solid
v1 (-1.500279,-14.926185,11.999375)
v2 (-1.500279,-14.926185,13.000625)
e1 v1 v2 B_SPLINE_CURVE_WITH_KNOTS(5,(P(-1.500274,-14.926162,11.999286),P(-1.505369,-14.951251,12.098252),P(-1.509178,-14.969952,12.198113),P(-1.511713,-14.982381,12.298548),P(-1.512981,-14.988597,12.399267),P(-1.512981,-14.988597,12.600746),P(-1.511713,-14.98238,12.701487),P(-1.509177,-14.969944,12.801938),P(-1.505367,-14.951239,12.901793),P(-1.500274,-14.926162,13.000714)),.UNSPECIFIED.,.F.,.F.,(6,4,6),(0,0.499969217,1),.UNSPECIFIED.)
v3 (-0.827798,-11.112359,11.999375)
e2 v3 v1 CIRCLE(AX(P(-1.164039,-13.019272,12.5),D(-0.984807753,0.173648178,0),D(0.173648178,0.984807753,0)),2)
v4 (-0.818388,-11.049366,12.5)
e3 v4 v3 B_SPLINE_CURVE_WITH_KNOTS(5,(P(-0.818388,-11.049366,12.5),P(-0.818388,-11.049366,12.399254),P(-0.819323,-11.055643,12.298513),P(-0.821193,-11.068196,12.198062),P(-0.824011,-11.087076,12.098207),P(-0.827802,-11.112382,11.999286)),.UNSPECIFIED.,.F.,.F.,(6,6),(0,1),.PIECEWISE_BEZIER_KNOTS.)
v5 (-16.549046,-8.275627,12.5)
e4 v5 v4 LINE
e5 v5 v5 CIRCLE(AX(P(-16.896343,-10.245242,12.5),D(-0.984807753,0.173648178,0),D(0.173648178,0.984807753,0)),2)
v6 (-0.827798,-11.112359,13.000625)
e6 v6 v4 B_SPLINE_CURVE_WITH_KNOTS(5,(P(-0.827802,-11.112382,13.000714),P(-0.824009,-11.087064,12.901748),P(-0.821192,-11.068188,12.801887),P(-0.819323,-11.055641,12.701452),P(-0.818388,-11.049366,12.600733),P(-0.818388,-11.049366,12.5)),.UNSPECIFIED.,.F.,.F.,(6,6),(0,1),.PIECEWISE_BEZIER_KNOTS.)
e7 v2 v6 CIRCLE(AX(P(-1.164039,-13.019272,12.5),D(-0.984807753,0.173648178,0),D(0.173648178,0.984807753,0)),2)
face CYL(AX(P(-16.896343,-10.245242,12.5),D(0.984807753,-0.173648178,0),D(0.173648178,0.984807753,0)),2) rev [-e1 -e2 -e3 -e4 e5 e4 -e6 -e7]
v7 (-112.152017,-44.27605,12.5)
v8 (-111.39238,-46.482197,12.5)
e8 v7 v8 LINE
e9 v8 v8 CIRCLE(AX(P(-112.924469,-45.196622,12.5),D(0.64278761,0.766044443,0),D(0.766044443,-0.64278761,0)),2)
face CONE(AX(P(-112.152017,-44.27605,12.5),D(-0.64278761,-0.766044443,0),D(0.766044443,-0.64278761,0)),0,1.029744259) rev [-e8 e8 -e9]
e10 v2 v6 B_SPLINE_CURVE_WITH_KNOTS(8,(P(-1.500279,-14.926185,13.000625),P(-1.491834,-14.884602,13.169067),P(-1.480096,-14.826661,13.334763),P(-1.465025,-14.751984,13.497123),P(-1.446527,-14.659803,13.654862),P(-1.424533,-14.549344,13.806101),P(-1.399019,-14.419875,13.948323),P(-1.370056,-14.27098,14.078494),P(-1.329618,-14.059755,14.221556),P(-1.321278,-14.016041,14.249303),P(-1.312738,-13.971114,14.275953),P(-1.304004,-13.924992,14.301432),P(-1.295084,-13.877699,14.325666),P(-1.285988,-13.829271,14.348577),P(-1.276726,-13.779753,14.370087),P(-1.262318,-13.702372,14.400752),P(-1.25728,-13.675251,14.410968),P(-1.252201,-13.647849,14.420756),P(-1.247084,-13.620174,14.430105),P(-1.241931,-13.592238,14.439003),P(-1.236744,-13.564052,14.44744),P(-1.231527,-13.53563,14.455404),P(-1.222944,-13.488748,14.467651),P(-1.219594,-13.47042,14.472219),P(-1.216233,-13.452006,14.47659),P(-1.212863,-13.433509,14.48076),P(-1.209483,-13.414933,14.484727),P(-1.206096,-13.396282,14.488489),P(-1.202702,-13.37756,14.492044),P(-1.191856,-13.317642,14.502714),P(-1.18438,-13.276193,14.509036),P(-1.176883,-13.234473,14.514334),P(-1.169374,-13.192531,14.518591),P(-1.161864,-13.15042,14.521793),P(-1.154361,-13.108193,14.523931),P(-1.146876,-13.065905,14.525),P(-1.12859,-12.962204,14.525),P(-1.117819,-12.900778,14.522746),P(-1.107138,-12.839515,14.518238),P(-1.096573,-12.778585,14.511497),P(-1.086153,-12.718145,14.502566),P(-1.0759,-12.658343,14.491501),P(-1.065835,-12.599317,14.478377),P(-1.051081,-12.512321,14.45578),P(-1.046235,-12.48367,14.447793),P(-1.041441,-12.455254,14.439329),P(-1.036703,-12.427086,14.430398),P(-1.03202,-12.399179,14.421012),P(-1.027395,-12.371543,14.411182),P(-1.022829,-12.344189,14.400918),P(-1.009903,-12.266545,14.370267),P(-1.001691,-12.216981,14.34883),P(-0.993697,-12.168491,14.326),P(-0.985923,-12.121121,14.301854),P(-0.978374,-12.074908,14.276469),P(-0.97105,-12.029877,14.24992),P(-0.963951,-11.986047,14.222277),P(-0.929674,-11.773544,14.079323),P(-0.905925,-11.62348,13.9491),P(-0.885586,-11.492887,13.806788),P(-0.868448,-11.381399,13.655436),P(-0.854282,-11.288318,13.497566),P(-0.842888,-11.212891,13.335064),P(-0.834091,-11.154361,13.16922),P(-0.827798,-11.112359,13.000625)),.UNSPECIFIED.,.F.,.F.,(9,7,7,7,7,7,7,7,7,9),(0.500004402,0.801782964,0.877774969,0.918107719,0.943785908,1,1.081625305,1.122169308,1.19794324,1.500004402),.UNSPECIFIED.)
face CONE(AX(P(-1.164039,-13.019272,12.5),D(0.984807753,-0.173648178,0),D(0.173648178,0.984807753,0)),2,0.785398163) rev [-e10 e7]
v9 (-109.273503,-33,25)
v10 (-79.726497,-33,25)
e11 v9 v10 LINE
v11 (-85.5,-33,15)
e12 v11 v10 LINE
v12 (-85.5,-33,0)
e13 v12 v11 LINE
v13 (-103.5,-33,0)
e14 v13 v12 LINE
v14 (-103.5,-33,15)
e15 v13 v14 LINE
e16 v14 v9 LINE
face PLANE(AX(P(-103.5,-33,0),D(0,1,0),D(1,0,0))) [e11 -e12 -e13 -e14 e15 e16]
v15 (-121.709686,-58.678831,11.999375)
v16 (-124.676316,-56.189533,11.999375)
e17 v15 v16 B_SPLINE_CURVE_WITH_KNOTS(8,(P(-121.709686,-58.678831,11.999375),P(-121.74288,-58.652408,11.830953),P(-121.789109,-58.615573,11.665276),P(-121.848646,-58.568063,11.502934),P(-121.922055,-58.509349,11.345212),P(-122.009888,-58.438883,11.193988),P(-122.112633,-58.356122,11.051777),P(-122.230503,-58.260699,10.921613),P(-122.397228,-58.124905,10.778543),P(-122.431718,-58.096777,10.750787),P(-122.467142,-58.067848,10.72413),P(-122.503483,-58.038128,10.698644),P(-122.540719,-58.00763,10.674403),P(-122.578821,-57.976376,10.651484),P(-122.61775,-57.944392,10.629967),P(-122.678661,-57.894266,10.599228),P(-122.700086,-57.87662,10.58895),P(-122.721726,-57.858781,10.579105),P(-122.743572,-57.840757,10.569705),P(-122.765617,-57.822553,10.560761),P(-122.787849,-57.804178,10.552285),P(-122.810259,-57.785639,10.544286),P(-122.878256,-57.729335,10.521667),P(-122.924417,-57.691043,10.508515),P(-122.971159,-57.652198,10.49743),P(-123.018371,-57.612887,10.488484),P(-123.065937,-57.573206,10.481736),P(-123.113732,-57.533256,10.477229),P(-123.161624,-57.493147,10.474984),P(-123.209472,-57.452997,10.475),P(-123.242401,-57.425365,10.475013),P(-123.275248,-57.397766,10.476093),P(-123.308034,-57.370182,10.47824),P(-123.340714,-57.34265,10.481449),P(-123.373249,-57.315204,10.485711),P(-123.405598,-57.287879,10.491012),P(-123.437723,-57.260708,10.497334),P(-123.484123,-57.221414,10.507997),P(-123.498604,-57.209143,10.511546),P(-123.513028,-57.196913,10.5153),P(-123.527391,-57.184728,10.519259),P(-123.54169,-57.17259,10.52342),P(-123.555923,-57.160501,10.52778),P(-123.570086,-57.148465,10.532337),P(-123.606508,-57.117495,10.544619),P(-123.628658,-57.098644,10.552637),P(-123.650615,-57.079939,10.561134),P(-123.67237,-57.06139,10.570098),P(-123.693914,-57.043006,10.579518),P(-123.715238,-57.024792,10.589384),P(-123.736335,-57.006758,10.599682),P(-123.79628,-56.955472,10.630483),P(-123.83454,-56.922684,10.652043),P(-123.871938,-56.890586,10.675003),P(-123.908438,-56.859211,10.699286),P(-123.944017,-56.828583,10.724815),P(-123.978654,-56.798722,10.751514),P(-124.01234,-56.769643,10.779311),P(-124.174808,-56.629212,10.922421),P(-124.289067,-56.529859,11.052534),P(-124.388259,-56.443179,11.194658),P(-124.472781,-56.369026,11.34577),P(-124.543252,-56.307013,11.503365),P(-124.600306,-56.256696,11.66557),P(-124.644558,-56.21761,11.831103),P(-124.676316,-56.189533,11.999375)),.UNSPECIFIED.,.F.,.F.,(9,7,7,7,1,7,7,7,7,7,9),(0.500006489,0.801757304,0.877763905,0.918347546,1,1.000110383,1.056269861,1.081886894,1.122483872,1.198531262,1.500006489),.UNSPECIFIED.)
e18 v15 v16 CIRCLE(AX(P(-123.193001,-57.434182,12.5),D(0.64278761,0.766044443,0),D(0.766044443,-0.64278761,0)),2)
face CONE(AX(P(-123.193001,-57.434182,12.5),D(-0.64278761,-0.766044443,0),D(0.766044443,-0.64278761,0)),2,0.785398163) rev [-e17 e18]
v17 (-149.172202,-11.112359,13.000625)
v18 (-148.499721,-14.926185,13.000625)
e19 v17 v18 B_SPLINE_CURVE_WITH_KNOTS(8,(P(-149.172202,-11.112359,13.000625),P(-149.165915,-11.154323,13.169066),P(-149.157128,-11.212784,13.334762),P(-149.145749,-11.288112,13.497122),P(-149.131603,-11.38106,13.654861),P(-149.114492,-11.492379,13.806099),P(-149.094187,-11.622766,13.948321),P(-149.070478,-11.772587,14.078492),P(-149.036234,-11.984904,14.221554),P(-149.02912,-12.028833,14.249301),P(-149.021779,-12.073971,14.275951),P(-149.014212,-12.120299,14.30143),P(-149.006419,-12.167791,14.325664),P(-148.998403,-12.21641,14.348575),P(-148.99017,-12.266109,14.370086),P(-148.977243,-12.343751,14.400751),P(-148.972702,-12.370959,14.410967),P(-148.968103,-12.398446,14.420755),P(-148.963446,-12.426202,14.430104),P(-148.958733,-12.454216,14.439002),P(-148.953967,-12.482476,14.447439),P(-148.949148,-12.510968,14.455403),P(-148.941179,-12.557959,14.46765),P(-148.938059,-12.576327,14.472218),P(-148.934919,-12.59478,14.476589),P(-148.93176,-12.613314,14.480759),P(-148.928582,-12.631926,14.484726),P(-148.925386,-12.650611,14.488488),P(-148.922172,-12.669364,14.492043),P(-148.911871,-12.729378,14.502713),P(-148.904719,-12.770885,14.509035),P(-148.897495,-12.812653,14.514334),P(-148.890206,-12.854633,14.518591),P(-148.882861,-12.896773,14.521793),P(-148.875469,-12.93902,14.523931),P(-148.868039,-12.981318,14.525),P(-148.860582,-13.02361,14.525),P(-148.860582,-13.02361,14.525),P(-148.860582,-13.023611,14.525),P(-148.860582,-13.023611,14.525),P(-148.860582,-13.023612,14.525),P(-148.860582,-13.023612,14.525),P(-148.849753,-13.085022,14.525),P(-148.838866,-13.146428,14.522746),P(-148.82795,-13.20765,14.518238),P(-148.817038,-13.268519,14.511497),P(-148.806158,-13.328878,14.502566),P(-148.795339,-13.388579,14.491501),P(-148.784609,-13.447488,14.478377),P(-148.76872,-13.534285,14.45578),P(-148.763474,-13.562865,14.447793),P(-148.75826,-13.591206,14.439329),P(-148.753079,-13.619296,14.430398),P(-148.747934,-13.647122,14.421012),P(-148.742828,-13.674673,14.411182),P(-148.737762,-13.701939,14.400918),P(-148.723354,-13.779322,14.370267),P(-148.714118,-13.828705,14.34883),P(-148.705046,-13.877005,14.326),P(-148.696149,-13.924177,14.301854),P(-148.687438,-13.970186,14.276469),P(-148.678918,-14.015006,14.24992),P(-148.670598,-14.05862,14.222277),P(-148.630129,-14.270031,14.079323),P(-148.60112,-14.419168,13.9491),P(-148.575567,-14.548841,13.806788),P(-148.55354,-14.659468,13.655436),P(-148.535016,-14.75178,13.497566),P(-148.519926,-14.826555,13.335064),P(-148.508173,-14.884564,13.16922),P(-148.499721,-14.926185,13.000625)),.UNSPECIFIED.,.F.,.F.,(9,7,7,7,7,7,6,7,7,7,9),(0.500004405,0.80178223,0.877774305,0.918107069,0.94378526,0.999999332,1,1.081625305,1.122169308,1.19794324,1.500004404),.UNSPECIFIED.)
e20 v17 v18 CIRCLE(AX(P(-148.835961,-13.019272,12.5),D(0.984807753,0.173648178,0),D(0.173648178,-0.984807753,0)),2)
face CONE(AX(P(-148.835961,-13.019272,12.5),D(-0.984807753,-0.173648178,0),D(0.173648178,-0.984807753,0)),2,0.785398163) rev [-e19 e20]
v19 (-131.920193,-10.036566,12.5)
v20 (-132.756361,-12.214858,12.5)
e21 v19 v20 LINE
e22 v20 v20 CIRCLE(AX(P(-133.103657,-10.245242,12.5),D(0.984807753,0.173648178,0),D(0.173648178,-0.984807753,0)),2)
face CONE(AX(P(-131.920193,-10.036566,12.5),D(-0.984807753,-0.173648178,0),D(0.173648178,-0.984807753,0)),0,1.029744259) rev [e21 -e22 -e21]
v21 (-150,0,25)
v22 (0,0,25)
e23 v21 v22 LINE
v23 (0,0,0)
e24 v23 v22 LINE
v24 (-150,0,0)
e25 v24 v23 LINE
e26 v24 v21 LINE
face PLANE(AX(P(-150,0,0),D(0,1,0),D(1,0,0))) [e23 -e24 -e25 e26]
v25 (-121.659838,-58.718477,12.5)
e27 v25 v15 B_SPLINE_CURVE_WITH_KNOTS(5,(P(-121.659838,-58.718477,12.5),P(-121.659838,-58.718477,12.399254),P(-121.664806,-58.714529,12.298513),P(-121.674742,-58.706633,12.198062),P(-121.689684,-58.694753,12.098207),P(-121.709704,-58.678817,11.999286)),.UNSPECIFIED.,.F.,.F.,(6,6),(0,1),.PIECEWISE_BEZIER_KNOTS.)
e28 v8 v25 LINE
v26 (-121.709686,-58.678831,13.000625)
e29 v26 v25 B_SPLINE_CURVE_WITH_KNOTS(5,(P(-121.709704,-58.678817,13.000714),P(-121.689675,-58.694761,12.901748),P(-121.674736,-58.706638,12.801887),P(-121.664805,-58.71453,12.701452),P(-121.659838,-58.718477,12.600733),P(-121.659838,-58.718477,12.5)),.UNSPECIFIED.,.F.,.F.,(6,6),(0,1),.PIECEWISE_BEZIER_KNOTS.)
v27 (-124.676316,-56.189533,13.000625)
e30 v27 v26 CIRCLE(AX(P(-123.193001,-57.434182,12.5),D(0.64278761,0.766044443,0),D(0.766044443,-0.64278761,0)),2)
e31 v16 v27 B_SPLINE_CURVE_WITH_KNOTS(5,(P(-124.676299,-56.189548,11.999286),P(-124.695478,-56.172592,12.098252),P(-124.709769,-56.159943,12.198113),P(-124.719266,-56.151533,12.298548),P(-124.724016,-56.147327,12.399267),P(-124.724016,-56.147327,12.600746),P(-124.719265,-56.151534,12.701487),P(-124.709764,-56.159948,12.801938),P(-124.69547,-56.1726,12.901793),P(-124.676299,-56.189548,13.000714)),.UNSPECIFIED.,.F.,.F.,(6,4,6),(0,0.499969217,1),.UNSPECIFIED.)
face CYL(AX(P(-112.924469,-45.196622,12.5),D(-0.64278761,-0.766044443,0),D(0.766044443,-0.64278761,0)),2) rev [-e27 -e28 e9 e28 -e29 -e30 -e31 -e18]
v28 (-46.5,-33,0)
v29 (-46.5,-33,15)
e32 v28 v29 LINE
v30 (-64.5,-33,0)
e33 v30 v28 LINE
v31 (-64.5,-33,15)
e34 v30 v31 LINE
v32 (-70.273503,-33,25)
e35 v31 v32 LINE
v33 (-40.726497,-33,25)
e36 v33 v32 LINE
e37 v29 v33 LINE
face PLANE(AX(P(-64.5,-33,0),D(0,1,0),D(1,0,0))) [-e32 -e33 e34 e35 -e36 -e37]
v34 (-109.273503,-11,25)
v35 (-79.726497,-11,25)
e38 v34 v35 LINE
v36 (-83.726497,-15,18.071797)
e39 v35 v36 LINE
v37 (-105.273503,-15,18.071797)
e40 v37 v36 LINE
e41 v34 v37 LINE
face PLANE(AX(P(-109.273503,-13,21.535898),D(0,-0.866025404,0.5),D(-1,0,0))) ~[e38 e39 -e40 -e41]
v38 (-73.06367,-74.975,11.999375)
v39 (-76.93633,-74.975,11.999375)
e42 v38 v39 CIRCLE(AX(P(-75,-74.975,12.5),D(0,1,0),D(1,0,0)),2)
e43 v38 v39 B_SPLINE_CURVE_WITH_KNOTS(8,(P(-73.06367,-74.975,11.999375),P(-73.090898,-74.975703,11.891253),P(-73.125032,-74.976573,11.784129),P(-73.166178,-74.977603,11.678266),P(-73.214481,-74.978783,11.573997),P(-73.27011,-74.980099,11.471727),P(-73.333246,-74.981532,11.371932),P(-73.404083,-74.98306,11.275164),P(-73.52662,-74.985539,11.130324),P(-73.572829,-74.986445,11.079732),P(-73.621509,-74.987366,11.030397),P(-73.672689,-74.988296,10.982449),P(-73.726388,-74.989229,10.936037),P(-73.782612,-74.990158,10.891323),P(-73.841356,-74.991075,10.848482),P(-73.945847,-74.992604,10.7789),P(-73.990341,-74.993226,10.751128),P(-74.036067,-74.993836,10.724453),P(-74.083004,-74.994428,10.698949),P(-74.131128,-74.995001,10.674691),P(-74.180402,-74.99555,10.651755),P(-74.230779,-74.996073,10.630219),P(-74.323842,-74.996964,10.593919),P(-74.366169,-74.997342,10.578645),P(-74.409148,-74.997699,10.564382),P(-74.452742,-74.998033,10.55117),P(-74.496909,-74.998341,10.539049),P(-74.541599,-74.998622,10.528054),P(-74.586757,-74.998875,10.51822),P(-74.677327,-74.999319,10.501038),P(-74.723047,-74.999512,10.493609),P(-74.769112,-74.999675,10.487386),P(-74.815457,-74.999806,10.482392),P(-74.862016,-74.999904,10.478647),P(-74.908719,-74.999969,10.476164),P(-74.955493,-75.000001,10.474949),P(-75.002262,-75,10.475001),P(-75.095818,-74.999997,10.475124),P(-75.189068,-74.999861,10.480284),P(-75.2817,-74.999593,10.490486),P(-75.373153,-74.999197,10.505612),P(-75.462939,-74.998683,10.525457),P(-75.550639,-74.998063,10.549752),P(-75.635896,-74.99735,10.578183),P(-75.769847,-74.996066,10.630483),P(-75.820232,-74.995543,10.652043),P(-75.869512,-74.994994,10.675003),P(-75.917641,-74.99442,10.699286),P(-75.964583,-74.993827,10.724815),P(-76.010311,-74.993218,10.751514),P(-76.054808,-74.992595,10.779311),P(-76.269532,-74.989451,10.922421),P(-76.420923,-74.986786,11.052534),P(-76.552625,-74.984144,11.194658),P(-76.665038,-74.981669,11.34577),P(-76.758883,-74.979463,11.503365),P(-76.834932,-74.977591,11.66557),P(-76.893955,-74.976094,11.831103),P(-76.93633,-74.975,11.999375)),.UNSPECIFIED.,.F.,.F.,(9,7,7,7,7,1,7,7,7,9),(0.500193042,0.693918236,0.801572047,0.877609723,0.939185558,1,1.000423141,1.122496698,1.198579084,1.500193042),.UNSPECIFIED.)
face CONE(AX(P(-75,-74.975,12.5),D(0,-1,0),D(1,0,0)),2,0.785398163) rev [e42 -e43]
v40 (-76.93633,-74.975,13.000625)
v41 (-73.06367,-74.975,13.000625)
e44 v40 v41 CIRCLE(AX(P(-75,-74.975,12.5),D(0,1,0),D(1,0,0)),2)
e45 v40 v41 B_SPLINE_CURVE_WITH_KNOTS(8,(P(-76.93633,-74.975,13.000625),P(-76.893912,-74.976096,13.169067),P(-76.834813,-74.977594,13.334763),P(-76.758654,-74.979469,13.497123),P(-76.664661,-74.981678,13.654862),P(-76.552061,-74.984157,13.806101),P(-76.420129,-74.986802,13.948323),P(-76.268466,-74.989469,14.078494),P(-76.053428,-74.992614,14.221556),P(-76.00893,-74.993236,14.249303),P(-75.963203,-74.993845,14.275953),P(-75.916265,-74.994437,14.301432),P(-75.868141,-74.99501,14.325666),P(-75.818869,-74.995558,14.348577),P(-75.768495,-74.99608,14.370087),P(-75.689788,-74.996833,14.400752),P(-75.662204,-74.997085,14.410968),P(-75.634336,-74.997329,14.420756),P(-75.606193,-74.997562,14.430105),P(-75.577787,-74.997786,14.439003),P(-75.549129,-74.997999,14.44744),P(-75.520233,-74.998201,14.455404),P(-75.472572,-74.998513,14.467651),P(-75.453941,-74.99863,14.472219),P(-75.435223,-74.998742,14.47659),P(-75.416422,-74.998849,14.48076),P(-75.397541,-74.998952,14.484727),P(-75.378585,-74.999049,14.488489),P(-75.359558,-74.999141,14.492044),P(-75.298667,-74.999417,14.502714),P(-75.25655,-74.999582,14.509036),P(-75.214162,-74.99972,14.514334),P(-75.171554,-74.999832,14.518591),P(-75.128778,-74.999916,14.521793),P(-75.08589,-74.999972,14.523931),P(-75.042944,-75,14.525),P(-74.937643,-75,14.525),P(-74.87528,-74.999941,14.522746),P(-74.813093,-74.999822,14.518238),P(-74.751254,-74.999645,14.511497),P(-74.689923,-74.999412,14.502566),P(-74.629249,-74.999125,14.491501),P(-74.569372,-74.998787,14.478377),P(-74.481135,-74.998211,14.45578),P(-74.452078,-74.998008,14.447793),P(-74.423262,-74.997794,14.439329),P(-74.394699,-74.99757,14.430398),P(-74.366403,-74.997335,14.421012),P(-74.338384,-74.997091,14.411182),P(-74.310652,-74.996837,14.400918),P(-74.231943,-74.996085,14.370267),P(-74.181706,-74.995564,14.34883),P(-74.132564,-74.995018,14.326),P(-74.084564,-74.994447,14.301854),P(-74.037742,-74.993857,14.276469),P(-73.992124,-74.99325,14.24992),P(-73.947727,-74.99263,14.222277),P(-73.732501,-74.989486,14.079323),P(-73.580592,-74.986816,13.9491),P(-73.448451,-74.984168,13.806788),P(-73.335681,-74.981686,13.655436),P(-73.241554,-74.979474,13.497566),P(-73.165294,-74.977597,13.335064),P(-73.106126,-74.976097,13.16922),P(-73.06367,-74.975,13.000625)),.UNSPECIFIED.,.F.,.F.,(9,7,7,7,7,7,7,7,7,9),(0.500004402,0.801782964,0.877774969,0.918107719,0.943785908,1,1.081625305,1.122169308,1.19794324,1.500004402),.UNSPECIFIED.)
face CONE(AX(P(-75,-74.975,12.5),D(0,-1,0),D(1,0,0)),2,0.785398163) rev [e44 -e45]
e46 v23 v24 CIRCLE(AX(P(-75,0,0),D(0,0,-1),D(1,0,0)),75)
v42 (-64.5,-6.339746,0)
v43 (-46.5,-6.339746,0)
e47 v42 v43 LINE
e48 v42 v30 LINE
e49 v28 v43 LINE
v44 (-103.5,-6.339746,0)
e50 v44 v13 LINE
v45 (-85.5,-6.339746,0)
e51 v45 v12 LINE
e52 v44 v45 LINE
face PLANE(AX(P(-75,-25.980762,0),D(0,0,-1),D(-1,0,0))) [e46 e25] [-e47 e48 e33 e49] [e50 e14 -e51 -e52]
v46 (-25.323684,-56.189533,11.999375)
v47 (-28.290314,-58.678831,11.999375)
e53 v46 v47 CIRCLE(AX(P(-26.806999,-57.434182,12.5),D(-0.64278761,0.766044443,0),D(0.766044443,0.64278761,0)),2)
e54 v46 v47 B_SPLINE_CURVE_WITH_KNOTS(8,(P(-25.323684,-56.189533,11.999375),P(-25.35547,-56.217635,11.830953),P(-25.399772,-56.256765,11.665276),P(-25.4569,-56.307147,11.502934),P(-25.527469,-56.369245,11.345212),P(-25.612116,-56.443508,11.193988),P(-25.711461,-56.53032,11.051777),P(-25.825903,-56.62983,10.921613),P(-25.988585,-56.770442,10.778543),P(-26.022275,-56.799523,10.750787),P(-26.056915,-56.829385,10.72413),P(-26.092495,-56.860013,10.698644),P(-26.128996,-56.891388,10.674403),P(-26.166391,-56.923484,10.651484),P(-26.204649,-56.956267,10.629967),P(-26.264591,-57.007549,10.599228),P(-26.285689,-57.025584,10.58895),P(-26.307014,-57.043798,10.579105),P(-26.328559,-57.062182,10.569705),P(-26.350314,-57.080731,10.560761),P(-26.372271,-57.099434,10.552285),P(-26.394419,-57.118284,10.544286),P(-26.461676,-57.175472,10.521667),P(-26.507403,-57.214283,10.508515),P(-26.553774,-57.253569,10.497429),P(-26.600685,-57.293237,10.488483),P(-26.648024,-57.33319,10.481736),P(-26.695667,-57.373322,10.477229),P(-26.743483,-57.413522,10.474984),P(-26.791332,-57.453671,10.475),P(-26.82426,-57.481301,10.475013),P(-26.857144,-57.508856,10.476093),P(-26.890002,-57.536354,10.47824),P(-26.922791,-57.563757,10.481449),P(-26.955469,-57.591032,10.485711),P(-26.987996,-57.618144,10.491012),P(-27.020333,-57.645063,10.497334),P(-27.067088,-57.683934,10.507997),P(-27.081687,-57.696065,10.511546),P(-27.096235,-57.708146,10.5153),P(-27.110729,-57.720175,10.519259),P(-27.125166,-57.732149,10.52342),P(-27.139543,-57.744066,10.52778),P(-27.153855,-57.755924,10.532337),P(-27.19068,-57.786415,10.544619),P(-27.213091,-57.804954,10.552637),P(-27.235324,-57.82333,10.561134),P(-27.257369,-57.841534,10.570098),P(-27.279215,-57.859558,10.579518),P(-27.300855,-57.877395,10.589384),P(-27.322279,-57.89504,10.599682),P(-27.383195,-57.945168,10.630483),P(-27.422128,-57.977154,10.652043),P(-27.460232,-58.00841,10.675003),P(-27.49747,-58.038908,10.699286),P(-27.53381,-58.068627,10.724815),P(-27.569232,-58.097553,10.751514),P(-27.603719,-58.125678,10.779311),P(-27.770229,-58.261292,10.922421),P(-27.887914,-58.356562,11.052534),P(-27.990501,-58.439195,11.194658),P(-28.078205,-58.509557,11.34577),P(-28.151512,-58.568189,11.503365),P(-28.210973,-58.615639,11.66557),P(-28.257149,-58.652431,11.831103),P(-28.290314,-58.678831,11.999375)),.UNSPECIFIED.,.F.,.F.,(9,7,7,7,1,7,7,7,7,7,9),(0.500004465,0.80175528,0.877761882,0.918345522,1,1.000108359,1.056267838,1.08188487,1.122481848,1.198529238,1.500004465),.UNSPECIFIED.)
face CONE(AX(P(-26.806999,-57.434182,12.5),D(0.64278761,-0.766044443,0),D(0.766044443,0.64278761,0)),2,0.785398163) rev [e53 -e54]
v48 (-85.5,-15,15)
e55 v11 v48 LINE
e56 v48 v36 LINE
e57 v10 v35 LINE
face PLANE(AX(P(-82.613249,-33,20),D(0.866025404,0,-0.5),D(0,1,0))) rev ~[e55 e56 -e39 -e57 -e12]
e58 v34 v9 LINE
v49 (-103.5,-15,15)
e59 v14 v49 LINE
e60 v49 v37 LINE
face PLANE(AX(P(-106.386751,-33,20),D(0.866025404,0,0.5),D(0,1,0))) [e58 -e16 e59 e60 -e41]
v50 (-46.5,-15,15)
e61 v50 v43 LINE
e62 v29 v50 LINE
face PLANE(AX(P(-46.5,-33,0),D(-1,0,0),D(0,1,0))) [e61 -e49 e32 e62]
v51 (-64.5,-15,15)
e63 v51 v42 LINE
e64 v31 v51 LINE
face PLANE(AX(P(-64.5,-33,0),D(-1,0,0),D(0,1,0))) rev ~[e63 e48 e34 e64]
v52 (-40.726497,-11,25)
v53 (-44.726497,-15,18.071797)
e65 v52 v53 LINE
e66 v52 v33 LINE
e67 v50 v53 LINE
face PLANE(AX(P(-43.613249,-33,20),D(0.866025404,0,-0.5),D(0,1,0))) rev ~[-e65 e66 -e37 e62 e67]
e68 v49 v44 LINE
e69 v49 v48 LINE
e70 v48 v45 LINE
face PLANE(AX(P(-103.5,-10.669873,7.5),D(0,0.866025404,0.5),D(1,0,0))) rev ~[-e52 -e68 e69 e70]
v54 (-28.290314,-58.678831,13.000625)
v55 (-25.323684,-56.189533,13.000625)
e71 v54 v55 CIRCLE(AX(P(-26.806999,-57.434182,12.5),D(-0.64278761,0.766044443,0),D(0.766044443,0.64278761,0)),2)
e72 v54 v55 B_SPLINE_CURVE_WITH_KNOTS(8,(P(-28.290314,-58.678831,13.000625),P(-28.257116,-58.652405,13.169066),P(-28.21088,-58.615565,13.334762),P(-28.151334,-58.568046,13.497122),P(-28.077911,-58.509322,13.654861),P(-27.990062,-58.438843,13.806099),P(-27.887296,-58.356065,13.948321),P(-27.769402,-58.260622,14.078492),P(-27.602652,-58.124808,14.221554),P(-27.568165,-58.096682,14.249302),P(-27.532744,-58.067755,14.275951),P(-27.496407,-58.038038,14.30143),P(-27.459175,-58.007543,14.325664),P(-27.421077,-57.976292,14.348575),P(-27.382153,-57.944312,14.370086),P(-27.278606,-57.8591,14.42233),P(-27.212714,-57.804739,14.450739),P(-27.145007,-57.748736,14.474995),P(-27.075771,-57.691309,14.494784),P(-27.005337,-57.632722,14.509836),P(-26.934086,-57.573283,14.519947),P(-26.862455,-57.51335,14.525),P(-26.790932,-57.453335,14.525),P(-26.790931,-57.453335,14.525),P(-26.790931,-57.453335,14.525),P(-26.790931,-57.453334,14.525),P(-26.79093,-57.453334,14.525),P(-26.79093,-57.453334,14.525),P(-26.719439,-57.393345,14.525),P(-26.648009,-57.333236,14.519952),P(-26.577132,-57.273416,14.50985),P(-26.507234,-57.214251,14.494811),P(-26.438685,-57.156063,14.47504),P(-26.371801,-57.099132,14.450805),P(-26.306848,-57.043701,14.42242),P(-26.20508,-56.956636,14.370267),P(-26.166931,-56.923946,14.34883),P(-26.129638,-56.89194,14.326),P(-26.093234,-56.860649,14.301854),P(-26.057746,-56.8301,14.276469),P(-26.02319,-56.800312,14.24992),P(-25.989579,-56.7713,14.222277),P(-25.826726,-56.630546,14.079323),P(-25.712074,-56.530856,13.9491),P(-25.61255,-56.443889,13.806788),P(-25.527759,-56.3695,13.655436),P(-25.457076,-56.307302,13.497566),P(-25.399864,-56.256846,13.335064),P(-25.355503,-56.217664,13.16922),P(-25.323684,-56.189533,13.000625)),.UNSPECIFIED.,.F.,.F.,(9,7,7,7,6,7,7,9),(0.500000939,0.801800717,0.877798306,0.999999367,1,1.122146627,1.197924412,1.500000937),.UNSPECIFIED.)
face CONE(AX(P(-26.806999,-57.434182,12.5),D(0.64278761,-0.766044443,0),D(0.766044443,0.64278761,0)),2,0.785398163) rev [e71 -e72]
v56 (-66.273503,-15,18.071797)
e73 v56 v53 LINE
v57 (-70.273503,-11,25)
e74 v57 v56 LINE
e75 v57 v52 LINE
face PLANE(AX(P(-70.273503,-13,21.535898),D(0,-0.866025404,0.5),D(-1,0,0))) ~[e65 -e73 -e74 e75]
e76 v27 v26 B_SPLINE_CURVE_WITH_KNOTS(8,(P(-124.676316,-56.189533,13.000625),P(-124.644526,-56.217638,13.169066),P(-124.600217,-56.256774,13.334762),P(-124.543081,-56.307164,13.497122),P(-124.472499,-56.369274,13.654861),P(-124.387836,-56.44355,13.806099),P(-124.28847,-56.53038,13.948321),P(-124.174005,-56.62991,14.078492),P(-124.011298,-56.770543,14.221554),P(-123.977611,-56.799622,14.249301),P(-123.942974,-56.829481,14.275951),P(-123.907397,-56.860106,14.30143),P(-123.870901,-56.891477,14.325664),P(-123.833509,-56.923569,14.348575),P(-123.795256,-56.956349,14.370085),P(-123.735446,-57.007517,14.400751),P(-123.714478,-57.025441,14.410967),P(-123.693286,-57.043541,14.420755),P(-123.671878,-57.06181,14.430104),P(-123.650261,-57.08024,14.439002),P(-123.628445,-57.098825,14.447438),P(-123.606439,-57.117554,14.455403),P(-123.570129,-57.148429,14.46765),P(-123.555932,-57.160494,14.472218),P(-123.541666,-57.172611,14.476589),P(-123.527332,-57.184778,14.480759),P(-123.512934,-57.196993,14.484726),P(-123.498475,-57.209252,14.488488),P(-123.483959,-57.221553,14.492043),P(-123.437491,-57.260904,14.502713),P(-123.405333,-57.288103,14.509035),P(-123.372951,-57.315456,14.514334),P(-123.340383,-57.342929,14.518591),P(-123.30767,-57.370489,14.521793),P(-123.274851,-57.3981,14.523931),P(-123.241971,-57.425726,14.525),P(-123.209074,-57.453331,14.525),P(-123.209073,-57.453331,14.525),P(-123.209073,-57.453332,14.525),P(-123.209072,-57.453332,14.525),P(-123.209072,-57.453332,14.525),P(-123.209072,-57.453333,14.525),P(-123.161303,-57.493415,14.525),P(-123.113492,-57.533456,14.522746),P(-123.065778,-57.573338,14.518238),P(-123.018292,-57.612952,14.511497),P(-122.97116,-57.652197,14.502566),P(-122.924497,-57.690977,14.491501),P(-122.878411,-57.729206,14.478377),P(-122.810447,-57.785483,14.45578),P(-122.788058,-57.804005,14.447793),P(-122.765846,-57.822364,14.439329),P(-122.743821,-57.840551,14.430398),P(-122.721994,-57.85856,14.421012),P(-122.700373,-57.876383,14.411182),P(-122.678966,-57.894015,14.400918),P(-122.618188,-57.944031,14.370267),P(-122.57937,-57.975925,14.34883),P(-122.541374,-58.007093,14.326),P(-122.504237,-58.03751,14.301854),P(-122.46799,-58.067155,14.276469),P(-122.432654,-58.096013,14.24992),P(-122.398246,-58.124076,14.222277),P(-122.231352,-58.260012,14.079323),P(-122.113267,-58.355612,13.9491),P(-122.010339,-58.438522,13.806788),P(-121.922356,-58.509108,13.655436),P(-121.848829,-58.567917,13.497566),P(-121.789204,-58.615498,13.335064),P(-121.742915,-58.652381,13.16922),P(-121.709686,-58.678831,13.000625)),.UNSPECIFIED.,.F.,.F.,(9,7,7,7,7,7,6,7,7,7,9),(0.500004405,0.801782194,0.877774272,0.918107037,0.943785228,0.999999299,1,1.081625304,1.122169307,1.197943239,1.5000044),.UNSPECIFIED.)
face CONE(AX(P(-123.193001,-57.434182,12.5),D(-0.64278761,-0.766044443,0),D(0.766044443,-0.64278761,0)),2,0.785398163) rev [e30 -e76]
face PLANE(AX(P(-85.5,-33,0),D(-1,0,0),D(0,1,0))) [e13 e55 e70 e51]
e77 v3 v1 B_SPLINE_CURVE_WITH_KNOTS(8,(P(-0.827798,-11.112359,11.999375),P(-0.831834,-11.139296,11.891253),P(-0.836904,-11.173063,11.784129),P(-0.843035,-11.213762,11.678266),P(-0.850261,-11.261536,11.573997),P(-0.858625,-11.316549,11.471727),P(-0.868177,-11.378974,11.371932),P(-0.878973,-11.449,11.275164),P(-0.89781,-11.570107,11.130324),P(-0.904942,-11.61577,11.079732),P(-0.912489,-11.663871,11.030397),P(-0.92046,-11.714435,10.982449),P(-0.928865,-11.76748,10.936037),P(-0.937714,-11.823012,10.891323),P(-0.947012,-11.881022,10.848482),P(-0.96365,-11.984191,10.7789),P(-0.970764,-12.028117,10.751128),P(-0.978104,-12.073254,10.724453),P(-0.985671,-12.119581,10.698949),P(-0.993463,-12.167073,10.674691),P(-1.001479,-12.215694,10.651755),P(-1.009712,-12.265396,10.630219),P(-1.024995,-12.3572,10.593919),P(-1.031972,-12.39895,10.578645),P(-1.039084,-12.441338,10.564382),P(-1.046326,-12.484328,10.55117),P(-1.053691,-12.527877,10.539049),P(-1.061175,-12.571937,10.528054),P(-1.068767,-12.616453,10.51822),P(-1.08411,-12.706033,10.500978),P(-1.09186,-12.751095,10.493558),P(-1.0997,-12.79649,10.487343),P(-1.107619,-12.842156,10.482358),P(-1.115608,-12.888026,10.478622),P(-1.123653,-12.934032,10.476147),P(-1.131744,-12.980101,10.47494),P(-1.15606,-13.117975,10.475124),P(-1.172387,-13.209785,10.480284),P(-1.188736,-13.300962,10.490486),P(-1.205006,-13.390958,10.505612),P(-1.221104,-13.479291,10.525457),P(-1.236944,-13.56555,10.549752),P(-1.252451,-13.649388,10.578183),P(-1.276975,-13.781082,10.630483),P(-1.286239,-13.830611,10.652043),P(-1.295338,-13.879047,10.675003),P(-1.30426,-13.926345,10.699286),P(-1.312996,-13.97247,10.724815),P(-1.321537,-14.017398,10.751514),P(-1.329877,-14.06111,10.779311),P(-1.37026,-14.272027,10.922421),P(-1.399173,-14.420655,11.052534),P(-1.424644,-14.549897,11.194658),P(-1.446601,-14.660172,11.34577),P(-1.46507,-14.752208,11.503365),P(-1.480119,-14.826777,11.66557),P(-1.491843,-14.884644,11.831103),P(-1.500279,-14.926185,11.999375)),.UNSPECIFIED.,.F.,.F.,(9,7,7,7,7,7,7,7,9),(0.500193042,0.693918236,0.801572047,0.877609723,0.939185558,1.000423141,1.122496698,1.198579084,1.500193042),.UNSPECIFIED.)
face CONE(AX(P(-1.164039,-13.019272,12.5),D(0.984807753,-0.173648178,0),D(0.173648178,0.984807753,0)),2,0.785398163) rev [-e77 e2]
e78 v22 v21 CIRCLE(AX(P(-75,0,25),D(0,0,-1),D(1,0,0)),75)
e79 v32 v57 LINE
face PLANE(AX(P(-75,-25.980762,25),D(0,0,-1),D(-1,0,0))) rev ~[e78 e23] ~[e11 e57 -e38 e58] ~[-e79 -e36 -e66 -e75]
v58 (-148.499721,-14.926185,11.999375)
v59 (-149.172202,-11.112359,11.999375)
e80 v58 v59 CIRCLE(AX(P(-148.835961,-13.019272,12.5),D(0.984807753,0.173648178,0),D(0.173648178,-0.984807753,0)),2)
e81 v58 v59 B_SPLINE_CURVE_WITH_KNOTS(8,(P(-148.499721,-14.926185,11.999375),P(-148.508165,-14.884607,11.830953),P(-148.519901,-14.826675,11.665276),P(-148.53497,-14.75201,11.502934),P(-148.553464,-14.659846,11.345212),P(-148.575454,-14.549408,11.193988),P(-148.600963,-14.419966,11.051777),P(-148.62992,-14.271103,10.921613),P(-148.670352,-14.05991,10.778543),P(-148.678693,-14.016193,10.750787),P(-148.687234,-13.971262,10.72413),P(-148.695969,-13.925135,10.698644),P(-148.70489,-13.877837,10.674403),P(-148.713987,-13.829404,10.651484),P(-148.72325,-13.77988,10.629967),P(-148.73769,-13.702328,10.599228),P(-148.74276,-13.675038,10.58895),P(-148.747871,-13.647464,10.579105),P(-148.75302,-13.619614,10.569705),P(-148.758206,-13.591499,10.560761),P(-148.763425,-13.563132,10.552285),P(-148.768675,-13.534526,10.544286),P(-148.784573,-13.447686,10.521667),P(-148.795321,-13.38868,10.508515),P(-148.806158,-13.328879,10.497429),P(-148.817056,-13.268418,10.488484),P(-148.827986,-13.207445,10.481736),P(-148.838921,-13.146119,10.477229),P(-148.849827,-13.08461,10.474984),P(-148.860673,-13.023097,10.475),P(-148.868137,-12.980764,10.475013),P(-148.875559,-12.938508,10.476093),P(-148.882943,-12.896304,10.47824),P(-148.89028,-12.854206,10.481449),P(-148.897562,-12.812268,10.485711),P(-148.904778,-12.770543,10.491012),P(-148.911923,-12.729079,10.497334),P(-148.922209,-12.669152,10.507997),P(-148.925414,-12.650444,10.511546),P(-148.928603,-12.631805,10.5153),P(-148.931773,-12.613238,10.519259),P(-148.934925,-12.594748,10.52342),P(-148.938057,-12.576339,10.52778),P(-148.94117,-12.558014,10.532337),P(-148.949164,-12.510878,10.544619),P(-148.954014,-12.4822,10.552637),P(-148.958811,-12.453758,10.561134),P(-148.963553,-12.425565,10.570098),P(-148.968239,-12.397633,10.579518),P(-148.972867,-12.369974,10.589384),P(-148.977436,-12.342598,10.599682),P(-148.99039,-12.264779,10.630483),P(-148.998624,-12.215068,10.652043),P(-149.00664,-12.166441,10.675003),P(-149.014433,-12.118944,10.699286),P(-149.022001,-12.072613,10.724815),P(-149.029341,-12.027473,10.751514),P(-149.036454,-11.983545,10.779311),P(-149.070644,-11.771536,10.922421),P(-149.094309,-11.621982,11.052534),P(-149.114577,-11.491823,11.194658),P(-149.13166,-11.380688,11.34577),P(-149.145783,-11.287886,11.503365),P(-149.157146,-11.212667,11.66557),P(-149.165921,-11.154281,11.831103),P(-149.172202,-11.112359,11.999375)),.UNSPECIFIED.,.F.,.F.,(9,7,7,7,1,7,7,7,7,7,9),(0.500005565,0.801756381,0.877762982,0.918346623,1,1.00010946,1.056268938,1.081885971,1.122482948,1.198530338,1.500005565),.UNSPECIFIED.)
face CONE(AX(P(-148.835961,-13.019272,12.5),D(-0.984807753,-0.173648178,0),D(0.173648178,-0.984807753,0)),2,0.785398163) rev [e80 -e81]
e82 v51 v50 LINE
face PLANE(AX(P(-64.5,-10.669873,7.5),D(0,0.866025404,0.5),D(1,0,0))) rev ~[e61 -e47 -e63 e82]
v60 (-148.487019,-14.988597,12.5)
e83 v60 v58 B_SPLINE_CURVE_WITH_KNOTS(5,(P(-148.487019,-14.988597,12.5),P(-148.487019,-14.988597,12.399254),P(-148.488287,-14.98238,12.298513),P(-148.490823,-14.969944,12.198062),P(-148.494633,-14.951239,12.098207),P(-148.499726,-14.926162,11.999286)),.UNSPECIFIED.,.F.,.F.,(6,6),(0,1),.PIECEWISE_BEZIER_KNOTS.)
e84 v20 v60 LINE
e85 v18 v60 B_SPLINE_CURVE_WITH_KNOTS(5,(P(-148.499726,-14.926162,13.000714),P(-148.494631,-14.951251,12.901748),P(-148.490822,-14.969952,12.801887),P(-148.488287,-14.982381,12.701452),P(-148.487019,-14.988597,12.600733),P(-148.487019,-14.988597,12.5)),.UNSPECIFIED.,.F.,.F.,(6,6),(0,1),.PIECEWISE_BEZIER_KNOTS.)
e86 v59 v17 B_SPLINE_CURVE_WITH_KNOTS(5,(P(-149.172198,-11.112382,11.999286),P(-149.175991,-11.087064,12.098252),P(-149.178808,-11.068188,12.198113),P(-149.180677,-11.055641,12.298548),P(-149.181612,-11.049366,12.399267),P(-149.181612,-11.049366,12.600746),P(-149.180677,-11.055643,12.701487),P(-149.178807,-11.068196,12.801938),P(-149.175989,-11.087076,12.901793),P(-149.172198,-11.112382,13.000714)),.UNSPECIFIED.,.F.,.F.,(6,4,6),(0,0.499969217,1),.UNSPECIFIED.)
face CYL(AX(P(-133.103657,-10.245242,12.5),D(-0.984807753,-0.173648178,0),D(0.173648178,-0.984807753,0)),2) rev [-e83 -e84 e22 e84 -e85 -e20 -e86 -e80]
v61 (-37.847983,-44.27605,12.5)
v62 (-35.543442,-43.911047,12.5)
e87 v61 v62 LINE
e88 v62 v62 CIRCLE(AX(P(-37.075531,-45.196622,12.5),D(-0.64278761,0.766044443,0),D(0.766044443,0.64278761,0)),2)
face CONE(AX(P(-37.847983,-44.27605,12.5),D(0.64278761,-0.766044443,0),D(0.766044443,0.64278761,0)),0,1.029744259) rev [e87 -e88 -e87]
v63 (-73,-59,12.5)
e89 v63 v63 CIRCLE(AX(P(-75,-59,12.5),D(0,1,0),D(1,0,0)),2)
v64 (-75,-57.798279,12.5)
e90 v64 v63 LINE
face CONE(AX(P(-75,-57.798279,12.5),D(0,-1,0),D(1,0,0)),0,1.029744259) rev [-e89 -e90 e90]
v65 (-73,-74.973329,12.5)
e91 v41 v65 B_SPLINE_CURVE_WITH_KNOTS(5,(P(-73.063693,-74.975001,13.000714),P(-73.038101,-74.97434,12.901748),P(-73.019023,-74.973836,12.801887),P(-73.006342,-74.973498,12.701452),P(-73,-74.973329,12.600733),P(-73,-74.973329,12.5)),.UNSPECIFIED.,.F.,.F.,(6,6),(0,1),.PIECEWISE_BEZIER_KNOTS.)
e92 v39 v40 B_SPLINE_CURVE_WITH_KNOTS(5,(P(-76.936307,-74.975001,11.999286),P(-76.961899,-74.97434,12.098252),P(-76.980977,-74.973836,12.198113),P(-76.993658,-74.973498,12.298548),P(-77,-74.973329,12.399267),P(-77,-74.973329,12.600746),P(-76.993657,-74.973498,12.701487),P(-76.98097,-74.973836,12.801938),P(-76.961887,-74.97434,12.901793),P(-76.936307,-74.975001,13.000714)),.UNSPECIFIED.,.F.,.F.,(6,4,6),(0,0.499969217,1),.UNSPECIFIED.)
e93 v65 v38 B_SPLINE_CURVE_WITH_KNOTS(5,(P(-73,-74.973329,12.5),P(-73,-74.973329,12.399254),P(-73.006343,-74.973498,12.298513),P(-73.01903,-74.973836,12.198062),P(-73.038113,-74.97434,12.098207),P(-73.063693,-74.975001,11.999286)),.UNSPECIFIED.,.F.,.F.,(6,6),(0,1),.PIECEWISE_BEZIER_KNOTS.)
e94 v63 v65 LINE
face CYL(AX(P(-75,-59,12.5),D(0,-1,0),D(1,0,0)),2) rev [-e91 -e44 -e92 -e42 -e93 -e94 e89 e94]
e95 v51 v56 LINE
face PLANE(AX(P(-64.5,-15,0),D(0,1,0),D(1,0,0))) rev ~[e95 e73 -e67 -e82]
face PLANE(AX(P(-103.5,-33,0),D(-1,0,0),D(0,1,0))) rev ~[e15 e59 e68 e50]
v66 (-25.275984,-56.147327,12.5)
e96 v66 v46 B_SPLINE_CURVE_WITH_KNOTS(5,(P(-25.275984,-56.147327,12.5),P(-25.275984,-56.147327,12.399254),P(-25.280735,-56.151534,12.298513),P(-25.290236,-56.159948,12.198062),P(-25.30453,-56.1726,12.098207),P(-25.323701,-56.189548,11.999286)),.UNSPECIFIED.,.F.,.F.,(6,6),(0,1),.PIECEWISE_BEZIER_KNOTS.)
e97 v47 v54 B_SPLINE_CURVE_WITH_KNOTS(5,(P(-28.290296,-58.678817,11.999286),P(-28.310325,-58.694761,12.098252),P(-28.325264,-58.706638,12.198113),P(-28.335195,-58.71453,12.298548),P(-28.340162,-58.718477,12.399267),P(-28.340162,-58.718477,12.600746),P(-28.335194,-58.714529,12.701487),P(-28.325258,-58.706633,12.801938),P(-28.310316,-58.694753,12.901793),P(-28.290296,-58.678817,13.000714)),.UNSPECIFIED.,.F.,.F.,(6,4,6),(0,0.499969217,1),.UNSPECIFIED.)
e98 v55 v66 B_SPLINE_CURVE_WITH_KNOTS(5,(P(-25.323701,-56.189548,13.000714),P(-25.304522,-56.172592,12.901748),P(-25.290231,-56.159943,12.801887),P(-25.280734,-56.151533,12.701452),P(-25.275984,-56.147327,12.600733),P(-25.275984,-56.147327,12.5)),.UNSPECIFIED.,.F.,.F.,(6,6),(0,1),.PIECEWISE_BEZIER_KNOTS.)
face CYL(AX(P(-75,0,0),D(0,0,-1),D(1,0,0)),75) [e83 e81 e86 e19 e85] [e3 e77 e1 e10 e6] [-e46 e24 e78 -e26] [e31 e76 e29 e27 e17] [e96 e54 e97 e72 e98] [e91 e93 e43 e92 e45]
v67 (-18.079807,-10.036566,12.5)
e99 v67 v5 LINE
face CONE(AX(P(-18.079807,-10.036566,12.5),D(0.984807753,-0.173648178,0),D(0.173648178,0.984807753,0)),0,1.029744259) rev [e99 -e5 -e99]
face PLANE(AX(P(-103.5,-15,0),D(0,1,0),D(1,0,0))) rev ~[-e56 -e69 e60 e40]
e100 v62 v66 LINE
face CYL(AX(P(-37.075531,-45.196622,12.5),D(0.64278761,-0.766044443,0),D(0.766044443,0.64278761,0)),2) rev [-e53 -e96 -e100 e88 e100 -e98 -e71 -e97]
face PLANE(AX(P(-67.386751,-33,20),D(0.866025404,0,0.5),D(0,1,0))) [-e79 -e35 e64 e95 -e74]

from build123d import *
from OCP.BRepFilletAPI import BRepFilletAPI_MakeChamfer

# Parameters (mm, degrees)
SKETCH1_W           = 18
SKETCH1_H           = 18
BOSS_EXTRUDE1_DEPTH = 25
CIRPATTERN1_COUNT   = 5
CIRPATTERN1_ANGLE   = 160
CHAMFER1_SIZE       = 15
CHAMFER1_SIZE2      = 8.660254038
CHAMFER3_SIZE       = 10
CHAMFER3_SIZE2      = 5.773502692
CHAMFER4_SIZE       = 4
CHAMFER4_SIZE2      = 6.92820323


with BuildPart() as part:
    # Sketch1 → Boss-Extrude1 (new body)
    with BuildSketch(Plane.XY):
        with BuildLine():
            Line((-150, 0), (0, 0))
            ThreePointArc((0, 0), (-75, -75), (-150, 0))
        make_face()
        with Locations((-55.5, -24)):
            Rectangle(SKETCH1_W, SKETCH1_H, mode=Mode.SUBTRACT)
        with Locations((-94.5, -24)):
            Rectangle(SKETCH1_W, SKETCH1_H, mode=Mode.SUBTRACT)
    extrude(amount=BOSS_EXTRUDE1_DEPTH)

    # Sketch4 → Ø4.0mm Dowel Hole2 (revolve, cut)
    with BuildSketch(Plane(origin=(-1.139418524, -13.023613325, 12.5), x_dir=(0.17364817766693047, 0.9848077530122081, 0), z_dir=(0, 0, 1))):
        Polygon((0, 0), (0, 17.201721238), (2, 16), (2, 0.025), (2.025, 0), align=None)
    f_4_0mm_dowel_hole2 = revolve(axis=Axis((5.114110708, -14.126279253, 12.5), (-0.9848077530122081, 0.17364817766693044, 0)), mode=Mode.SUBTRACT)

    # CirPattern1: Ø4.0mm Dowel Hole2 ×5 about axis
    cirpattern1_axis = Axis((-75, 0, 0), (0, 0, -1))
    for i in range(1, CIRPATTERN1_COUNT):
        add(f_4_0mm_dowel_hole2.rotate(cirpattern1_axis, i * CIRPATTERN1_ANGLE / (CIRPATTERN1_COUNT - 1)), mode=Mode.SUBTRACT)

    # Chamfer1: one chamfer whose edges measure the first distance from different faces: ONE call of the kernel's chamfer builder (chamfer() names one face for all edges)
    chamfer1_edges_1 = [part.edges().sort_by_distance(p)[0] for p in [
        (-55.5, -15, 0),
    ]]
    chamfer1_side_1 = [part.faces().sort_by_distance(p)[0] for p in [
        (-55.5, -15, 12.5),
    ]]
    chamfer1_edges_2 = [part.edges().sort_by_distance(p)[0] for p in [
        (-94.5, -15, 0),
    ]]
    chamfer1_side_2 = [part.faces().sort_by_distance(p)[0] for p in [
        (-94.5, -15, 12.5),
    ]]
    chamfer1 = BRepFilletAPI_MakeChamfer(part.part.solid().wrapped)
    for e in chamfer1_edges_1:
        chamfer1.Add(CHAMFER1_SIZE, CHAMFER1_SIZE2, e.wrapped, chamfer1_side_1[0].wrapped)  # the first distance lies on this face
    for e in chamfer1_edges_2:
        chamfer1.Add(CHAMFER1_SIZE, CHAMFER1_SIZE2, e.wrapped, chamfer1_side_2[0].wrapped)  # the first distance lies on this face
    add(Compound.cast(chamfer1.Shape()), mode=Mode.REPLACE)

    # Chamfer3: one chamfer whose edges measure the first distance from different faces: ONE call of the kernel's chamfer builder (chamfer() names one face for all edges)
    chamfer3_edges_1 = [part.edges().sort_by_distance(p)[0] for p in [
        (-103.5, -24, 25),
    ]]
    chamfer3_side_1 = [part.faces().sort_by_distance(p)[0] for p in [
        (-103.5, -22.500700474, 11.554010123),
    ]]
    chamfer3_edges_2 = [part.edges().sort_by_distance(p)[0] for p in [
        (-85.5, -24, 25),
    ]]
    chamfer3_side_2 = [part.faces().sort_by_distance(p)[0] for p in [
        (-85.5, -22.500700474, 11.554010123),
    ]]
    chamfer3_edges_3 = [part.edges().sort_by_distance(p)[0] for p in [
        (-46.5, -24, 25),
    ]]
    chamfer3_side_3 = [part.faces().sort_by_distance(p)[0] for p in [
        (-46.5, -22.500700474, 11.554010123),
    ]]
    chamfer3_edges_4 = [part.edges().sort_by_distance(p)[0] for p in [
        (-64.5, -24, 25),
    ]]
    chamfer3_side_4 = [part.faces().sort_by_distance(p)[0] for p in [
        (-64.5, -22.500700474, 11.554010123),
    ]]
    chamfer3 = BRepFilletAPI_MakeChamfer(part.part.solid().wrapped)
    for e in chamfer3_edges_1:
        chamfer3.Add(CHAMFER3_SIZE, CHAMFER3_SIZE2, e.wrapped, chamfer3_side_1[0].wrapped)  # the first distance lies on this face
    for e in chamfer3_edges_2:
        chamfer3.Add(CHAMFER3_SIZE, CHAMFER3_SIZE2, e.wrapped, chamfer3_side_2[0].wrapped)  # the first distance lies on this face
    for e in chamfer3_edges_3:
        chamfer3.Add(CHAMFER3_SIZE, CHAMFER3_SIZE2, e.wrapped, chamfer3_side_3[0].wrapped)  # the first distance lies on this face
    for e in chamfer3_edges_4:
        chamfer3.Add(CHAMFER3_SIZE, CHAMFER3_SIZE2, e.wrapped, chamfer3_side_4[0].wrapped)  # the first distance lies on this face
    add(Compound.cast(chamfer3.Shape()), mode=Mode.REPLACE)

    # Chamfer4
    chamfer4_edges = [part.edges().sort_by_distance(p)[0] for p in [
        (-55.5, -15, 25),
        (-94.5, -15, 25),
    ]]
    chamfer4_side = [part.faces().sort_by_distance(p)[0] for p in [
        (-75, -32.902748996, 25),
    ]]
    chamfer(chamfer4_edges, length=CHAMFER4_SIZE, length2=CHAMFER4_SIZE2, reference=chamfer4_side[0])


solid = part.part
